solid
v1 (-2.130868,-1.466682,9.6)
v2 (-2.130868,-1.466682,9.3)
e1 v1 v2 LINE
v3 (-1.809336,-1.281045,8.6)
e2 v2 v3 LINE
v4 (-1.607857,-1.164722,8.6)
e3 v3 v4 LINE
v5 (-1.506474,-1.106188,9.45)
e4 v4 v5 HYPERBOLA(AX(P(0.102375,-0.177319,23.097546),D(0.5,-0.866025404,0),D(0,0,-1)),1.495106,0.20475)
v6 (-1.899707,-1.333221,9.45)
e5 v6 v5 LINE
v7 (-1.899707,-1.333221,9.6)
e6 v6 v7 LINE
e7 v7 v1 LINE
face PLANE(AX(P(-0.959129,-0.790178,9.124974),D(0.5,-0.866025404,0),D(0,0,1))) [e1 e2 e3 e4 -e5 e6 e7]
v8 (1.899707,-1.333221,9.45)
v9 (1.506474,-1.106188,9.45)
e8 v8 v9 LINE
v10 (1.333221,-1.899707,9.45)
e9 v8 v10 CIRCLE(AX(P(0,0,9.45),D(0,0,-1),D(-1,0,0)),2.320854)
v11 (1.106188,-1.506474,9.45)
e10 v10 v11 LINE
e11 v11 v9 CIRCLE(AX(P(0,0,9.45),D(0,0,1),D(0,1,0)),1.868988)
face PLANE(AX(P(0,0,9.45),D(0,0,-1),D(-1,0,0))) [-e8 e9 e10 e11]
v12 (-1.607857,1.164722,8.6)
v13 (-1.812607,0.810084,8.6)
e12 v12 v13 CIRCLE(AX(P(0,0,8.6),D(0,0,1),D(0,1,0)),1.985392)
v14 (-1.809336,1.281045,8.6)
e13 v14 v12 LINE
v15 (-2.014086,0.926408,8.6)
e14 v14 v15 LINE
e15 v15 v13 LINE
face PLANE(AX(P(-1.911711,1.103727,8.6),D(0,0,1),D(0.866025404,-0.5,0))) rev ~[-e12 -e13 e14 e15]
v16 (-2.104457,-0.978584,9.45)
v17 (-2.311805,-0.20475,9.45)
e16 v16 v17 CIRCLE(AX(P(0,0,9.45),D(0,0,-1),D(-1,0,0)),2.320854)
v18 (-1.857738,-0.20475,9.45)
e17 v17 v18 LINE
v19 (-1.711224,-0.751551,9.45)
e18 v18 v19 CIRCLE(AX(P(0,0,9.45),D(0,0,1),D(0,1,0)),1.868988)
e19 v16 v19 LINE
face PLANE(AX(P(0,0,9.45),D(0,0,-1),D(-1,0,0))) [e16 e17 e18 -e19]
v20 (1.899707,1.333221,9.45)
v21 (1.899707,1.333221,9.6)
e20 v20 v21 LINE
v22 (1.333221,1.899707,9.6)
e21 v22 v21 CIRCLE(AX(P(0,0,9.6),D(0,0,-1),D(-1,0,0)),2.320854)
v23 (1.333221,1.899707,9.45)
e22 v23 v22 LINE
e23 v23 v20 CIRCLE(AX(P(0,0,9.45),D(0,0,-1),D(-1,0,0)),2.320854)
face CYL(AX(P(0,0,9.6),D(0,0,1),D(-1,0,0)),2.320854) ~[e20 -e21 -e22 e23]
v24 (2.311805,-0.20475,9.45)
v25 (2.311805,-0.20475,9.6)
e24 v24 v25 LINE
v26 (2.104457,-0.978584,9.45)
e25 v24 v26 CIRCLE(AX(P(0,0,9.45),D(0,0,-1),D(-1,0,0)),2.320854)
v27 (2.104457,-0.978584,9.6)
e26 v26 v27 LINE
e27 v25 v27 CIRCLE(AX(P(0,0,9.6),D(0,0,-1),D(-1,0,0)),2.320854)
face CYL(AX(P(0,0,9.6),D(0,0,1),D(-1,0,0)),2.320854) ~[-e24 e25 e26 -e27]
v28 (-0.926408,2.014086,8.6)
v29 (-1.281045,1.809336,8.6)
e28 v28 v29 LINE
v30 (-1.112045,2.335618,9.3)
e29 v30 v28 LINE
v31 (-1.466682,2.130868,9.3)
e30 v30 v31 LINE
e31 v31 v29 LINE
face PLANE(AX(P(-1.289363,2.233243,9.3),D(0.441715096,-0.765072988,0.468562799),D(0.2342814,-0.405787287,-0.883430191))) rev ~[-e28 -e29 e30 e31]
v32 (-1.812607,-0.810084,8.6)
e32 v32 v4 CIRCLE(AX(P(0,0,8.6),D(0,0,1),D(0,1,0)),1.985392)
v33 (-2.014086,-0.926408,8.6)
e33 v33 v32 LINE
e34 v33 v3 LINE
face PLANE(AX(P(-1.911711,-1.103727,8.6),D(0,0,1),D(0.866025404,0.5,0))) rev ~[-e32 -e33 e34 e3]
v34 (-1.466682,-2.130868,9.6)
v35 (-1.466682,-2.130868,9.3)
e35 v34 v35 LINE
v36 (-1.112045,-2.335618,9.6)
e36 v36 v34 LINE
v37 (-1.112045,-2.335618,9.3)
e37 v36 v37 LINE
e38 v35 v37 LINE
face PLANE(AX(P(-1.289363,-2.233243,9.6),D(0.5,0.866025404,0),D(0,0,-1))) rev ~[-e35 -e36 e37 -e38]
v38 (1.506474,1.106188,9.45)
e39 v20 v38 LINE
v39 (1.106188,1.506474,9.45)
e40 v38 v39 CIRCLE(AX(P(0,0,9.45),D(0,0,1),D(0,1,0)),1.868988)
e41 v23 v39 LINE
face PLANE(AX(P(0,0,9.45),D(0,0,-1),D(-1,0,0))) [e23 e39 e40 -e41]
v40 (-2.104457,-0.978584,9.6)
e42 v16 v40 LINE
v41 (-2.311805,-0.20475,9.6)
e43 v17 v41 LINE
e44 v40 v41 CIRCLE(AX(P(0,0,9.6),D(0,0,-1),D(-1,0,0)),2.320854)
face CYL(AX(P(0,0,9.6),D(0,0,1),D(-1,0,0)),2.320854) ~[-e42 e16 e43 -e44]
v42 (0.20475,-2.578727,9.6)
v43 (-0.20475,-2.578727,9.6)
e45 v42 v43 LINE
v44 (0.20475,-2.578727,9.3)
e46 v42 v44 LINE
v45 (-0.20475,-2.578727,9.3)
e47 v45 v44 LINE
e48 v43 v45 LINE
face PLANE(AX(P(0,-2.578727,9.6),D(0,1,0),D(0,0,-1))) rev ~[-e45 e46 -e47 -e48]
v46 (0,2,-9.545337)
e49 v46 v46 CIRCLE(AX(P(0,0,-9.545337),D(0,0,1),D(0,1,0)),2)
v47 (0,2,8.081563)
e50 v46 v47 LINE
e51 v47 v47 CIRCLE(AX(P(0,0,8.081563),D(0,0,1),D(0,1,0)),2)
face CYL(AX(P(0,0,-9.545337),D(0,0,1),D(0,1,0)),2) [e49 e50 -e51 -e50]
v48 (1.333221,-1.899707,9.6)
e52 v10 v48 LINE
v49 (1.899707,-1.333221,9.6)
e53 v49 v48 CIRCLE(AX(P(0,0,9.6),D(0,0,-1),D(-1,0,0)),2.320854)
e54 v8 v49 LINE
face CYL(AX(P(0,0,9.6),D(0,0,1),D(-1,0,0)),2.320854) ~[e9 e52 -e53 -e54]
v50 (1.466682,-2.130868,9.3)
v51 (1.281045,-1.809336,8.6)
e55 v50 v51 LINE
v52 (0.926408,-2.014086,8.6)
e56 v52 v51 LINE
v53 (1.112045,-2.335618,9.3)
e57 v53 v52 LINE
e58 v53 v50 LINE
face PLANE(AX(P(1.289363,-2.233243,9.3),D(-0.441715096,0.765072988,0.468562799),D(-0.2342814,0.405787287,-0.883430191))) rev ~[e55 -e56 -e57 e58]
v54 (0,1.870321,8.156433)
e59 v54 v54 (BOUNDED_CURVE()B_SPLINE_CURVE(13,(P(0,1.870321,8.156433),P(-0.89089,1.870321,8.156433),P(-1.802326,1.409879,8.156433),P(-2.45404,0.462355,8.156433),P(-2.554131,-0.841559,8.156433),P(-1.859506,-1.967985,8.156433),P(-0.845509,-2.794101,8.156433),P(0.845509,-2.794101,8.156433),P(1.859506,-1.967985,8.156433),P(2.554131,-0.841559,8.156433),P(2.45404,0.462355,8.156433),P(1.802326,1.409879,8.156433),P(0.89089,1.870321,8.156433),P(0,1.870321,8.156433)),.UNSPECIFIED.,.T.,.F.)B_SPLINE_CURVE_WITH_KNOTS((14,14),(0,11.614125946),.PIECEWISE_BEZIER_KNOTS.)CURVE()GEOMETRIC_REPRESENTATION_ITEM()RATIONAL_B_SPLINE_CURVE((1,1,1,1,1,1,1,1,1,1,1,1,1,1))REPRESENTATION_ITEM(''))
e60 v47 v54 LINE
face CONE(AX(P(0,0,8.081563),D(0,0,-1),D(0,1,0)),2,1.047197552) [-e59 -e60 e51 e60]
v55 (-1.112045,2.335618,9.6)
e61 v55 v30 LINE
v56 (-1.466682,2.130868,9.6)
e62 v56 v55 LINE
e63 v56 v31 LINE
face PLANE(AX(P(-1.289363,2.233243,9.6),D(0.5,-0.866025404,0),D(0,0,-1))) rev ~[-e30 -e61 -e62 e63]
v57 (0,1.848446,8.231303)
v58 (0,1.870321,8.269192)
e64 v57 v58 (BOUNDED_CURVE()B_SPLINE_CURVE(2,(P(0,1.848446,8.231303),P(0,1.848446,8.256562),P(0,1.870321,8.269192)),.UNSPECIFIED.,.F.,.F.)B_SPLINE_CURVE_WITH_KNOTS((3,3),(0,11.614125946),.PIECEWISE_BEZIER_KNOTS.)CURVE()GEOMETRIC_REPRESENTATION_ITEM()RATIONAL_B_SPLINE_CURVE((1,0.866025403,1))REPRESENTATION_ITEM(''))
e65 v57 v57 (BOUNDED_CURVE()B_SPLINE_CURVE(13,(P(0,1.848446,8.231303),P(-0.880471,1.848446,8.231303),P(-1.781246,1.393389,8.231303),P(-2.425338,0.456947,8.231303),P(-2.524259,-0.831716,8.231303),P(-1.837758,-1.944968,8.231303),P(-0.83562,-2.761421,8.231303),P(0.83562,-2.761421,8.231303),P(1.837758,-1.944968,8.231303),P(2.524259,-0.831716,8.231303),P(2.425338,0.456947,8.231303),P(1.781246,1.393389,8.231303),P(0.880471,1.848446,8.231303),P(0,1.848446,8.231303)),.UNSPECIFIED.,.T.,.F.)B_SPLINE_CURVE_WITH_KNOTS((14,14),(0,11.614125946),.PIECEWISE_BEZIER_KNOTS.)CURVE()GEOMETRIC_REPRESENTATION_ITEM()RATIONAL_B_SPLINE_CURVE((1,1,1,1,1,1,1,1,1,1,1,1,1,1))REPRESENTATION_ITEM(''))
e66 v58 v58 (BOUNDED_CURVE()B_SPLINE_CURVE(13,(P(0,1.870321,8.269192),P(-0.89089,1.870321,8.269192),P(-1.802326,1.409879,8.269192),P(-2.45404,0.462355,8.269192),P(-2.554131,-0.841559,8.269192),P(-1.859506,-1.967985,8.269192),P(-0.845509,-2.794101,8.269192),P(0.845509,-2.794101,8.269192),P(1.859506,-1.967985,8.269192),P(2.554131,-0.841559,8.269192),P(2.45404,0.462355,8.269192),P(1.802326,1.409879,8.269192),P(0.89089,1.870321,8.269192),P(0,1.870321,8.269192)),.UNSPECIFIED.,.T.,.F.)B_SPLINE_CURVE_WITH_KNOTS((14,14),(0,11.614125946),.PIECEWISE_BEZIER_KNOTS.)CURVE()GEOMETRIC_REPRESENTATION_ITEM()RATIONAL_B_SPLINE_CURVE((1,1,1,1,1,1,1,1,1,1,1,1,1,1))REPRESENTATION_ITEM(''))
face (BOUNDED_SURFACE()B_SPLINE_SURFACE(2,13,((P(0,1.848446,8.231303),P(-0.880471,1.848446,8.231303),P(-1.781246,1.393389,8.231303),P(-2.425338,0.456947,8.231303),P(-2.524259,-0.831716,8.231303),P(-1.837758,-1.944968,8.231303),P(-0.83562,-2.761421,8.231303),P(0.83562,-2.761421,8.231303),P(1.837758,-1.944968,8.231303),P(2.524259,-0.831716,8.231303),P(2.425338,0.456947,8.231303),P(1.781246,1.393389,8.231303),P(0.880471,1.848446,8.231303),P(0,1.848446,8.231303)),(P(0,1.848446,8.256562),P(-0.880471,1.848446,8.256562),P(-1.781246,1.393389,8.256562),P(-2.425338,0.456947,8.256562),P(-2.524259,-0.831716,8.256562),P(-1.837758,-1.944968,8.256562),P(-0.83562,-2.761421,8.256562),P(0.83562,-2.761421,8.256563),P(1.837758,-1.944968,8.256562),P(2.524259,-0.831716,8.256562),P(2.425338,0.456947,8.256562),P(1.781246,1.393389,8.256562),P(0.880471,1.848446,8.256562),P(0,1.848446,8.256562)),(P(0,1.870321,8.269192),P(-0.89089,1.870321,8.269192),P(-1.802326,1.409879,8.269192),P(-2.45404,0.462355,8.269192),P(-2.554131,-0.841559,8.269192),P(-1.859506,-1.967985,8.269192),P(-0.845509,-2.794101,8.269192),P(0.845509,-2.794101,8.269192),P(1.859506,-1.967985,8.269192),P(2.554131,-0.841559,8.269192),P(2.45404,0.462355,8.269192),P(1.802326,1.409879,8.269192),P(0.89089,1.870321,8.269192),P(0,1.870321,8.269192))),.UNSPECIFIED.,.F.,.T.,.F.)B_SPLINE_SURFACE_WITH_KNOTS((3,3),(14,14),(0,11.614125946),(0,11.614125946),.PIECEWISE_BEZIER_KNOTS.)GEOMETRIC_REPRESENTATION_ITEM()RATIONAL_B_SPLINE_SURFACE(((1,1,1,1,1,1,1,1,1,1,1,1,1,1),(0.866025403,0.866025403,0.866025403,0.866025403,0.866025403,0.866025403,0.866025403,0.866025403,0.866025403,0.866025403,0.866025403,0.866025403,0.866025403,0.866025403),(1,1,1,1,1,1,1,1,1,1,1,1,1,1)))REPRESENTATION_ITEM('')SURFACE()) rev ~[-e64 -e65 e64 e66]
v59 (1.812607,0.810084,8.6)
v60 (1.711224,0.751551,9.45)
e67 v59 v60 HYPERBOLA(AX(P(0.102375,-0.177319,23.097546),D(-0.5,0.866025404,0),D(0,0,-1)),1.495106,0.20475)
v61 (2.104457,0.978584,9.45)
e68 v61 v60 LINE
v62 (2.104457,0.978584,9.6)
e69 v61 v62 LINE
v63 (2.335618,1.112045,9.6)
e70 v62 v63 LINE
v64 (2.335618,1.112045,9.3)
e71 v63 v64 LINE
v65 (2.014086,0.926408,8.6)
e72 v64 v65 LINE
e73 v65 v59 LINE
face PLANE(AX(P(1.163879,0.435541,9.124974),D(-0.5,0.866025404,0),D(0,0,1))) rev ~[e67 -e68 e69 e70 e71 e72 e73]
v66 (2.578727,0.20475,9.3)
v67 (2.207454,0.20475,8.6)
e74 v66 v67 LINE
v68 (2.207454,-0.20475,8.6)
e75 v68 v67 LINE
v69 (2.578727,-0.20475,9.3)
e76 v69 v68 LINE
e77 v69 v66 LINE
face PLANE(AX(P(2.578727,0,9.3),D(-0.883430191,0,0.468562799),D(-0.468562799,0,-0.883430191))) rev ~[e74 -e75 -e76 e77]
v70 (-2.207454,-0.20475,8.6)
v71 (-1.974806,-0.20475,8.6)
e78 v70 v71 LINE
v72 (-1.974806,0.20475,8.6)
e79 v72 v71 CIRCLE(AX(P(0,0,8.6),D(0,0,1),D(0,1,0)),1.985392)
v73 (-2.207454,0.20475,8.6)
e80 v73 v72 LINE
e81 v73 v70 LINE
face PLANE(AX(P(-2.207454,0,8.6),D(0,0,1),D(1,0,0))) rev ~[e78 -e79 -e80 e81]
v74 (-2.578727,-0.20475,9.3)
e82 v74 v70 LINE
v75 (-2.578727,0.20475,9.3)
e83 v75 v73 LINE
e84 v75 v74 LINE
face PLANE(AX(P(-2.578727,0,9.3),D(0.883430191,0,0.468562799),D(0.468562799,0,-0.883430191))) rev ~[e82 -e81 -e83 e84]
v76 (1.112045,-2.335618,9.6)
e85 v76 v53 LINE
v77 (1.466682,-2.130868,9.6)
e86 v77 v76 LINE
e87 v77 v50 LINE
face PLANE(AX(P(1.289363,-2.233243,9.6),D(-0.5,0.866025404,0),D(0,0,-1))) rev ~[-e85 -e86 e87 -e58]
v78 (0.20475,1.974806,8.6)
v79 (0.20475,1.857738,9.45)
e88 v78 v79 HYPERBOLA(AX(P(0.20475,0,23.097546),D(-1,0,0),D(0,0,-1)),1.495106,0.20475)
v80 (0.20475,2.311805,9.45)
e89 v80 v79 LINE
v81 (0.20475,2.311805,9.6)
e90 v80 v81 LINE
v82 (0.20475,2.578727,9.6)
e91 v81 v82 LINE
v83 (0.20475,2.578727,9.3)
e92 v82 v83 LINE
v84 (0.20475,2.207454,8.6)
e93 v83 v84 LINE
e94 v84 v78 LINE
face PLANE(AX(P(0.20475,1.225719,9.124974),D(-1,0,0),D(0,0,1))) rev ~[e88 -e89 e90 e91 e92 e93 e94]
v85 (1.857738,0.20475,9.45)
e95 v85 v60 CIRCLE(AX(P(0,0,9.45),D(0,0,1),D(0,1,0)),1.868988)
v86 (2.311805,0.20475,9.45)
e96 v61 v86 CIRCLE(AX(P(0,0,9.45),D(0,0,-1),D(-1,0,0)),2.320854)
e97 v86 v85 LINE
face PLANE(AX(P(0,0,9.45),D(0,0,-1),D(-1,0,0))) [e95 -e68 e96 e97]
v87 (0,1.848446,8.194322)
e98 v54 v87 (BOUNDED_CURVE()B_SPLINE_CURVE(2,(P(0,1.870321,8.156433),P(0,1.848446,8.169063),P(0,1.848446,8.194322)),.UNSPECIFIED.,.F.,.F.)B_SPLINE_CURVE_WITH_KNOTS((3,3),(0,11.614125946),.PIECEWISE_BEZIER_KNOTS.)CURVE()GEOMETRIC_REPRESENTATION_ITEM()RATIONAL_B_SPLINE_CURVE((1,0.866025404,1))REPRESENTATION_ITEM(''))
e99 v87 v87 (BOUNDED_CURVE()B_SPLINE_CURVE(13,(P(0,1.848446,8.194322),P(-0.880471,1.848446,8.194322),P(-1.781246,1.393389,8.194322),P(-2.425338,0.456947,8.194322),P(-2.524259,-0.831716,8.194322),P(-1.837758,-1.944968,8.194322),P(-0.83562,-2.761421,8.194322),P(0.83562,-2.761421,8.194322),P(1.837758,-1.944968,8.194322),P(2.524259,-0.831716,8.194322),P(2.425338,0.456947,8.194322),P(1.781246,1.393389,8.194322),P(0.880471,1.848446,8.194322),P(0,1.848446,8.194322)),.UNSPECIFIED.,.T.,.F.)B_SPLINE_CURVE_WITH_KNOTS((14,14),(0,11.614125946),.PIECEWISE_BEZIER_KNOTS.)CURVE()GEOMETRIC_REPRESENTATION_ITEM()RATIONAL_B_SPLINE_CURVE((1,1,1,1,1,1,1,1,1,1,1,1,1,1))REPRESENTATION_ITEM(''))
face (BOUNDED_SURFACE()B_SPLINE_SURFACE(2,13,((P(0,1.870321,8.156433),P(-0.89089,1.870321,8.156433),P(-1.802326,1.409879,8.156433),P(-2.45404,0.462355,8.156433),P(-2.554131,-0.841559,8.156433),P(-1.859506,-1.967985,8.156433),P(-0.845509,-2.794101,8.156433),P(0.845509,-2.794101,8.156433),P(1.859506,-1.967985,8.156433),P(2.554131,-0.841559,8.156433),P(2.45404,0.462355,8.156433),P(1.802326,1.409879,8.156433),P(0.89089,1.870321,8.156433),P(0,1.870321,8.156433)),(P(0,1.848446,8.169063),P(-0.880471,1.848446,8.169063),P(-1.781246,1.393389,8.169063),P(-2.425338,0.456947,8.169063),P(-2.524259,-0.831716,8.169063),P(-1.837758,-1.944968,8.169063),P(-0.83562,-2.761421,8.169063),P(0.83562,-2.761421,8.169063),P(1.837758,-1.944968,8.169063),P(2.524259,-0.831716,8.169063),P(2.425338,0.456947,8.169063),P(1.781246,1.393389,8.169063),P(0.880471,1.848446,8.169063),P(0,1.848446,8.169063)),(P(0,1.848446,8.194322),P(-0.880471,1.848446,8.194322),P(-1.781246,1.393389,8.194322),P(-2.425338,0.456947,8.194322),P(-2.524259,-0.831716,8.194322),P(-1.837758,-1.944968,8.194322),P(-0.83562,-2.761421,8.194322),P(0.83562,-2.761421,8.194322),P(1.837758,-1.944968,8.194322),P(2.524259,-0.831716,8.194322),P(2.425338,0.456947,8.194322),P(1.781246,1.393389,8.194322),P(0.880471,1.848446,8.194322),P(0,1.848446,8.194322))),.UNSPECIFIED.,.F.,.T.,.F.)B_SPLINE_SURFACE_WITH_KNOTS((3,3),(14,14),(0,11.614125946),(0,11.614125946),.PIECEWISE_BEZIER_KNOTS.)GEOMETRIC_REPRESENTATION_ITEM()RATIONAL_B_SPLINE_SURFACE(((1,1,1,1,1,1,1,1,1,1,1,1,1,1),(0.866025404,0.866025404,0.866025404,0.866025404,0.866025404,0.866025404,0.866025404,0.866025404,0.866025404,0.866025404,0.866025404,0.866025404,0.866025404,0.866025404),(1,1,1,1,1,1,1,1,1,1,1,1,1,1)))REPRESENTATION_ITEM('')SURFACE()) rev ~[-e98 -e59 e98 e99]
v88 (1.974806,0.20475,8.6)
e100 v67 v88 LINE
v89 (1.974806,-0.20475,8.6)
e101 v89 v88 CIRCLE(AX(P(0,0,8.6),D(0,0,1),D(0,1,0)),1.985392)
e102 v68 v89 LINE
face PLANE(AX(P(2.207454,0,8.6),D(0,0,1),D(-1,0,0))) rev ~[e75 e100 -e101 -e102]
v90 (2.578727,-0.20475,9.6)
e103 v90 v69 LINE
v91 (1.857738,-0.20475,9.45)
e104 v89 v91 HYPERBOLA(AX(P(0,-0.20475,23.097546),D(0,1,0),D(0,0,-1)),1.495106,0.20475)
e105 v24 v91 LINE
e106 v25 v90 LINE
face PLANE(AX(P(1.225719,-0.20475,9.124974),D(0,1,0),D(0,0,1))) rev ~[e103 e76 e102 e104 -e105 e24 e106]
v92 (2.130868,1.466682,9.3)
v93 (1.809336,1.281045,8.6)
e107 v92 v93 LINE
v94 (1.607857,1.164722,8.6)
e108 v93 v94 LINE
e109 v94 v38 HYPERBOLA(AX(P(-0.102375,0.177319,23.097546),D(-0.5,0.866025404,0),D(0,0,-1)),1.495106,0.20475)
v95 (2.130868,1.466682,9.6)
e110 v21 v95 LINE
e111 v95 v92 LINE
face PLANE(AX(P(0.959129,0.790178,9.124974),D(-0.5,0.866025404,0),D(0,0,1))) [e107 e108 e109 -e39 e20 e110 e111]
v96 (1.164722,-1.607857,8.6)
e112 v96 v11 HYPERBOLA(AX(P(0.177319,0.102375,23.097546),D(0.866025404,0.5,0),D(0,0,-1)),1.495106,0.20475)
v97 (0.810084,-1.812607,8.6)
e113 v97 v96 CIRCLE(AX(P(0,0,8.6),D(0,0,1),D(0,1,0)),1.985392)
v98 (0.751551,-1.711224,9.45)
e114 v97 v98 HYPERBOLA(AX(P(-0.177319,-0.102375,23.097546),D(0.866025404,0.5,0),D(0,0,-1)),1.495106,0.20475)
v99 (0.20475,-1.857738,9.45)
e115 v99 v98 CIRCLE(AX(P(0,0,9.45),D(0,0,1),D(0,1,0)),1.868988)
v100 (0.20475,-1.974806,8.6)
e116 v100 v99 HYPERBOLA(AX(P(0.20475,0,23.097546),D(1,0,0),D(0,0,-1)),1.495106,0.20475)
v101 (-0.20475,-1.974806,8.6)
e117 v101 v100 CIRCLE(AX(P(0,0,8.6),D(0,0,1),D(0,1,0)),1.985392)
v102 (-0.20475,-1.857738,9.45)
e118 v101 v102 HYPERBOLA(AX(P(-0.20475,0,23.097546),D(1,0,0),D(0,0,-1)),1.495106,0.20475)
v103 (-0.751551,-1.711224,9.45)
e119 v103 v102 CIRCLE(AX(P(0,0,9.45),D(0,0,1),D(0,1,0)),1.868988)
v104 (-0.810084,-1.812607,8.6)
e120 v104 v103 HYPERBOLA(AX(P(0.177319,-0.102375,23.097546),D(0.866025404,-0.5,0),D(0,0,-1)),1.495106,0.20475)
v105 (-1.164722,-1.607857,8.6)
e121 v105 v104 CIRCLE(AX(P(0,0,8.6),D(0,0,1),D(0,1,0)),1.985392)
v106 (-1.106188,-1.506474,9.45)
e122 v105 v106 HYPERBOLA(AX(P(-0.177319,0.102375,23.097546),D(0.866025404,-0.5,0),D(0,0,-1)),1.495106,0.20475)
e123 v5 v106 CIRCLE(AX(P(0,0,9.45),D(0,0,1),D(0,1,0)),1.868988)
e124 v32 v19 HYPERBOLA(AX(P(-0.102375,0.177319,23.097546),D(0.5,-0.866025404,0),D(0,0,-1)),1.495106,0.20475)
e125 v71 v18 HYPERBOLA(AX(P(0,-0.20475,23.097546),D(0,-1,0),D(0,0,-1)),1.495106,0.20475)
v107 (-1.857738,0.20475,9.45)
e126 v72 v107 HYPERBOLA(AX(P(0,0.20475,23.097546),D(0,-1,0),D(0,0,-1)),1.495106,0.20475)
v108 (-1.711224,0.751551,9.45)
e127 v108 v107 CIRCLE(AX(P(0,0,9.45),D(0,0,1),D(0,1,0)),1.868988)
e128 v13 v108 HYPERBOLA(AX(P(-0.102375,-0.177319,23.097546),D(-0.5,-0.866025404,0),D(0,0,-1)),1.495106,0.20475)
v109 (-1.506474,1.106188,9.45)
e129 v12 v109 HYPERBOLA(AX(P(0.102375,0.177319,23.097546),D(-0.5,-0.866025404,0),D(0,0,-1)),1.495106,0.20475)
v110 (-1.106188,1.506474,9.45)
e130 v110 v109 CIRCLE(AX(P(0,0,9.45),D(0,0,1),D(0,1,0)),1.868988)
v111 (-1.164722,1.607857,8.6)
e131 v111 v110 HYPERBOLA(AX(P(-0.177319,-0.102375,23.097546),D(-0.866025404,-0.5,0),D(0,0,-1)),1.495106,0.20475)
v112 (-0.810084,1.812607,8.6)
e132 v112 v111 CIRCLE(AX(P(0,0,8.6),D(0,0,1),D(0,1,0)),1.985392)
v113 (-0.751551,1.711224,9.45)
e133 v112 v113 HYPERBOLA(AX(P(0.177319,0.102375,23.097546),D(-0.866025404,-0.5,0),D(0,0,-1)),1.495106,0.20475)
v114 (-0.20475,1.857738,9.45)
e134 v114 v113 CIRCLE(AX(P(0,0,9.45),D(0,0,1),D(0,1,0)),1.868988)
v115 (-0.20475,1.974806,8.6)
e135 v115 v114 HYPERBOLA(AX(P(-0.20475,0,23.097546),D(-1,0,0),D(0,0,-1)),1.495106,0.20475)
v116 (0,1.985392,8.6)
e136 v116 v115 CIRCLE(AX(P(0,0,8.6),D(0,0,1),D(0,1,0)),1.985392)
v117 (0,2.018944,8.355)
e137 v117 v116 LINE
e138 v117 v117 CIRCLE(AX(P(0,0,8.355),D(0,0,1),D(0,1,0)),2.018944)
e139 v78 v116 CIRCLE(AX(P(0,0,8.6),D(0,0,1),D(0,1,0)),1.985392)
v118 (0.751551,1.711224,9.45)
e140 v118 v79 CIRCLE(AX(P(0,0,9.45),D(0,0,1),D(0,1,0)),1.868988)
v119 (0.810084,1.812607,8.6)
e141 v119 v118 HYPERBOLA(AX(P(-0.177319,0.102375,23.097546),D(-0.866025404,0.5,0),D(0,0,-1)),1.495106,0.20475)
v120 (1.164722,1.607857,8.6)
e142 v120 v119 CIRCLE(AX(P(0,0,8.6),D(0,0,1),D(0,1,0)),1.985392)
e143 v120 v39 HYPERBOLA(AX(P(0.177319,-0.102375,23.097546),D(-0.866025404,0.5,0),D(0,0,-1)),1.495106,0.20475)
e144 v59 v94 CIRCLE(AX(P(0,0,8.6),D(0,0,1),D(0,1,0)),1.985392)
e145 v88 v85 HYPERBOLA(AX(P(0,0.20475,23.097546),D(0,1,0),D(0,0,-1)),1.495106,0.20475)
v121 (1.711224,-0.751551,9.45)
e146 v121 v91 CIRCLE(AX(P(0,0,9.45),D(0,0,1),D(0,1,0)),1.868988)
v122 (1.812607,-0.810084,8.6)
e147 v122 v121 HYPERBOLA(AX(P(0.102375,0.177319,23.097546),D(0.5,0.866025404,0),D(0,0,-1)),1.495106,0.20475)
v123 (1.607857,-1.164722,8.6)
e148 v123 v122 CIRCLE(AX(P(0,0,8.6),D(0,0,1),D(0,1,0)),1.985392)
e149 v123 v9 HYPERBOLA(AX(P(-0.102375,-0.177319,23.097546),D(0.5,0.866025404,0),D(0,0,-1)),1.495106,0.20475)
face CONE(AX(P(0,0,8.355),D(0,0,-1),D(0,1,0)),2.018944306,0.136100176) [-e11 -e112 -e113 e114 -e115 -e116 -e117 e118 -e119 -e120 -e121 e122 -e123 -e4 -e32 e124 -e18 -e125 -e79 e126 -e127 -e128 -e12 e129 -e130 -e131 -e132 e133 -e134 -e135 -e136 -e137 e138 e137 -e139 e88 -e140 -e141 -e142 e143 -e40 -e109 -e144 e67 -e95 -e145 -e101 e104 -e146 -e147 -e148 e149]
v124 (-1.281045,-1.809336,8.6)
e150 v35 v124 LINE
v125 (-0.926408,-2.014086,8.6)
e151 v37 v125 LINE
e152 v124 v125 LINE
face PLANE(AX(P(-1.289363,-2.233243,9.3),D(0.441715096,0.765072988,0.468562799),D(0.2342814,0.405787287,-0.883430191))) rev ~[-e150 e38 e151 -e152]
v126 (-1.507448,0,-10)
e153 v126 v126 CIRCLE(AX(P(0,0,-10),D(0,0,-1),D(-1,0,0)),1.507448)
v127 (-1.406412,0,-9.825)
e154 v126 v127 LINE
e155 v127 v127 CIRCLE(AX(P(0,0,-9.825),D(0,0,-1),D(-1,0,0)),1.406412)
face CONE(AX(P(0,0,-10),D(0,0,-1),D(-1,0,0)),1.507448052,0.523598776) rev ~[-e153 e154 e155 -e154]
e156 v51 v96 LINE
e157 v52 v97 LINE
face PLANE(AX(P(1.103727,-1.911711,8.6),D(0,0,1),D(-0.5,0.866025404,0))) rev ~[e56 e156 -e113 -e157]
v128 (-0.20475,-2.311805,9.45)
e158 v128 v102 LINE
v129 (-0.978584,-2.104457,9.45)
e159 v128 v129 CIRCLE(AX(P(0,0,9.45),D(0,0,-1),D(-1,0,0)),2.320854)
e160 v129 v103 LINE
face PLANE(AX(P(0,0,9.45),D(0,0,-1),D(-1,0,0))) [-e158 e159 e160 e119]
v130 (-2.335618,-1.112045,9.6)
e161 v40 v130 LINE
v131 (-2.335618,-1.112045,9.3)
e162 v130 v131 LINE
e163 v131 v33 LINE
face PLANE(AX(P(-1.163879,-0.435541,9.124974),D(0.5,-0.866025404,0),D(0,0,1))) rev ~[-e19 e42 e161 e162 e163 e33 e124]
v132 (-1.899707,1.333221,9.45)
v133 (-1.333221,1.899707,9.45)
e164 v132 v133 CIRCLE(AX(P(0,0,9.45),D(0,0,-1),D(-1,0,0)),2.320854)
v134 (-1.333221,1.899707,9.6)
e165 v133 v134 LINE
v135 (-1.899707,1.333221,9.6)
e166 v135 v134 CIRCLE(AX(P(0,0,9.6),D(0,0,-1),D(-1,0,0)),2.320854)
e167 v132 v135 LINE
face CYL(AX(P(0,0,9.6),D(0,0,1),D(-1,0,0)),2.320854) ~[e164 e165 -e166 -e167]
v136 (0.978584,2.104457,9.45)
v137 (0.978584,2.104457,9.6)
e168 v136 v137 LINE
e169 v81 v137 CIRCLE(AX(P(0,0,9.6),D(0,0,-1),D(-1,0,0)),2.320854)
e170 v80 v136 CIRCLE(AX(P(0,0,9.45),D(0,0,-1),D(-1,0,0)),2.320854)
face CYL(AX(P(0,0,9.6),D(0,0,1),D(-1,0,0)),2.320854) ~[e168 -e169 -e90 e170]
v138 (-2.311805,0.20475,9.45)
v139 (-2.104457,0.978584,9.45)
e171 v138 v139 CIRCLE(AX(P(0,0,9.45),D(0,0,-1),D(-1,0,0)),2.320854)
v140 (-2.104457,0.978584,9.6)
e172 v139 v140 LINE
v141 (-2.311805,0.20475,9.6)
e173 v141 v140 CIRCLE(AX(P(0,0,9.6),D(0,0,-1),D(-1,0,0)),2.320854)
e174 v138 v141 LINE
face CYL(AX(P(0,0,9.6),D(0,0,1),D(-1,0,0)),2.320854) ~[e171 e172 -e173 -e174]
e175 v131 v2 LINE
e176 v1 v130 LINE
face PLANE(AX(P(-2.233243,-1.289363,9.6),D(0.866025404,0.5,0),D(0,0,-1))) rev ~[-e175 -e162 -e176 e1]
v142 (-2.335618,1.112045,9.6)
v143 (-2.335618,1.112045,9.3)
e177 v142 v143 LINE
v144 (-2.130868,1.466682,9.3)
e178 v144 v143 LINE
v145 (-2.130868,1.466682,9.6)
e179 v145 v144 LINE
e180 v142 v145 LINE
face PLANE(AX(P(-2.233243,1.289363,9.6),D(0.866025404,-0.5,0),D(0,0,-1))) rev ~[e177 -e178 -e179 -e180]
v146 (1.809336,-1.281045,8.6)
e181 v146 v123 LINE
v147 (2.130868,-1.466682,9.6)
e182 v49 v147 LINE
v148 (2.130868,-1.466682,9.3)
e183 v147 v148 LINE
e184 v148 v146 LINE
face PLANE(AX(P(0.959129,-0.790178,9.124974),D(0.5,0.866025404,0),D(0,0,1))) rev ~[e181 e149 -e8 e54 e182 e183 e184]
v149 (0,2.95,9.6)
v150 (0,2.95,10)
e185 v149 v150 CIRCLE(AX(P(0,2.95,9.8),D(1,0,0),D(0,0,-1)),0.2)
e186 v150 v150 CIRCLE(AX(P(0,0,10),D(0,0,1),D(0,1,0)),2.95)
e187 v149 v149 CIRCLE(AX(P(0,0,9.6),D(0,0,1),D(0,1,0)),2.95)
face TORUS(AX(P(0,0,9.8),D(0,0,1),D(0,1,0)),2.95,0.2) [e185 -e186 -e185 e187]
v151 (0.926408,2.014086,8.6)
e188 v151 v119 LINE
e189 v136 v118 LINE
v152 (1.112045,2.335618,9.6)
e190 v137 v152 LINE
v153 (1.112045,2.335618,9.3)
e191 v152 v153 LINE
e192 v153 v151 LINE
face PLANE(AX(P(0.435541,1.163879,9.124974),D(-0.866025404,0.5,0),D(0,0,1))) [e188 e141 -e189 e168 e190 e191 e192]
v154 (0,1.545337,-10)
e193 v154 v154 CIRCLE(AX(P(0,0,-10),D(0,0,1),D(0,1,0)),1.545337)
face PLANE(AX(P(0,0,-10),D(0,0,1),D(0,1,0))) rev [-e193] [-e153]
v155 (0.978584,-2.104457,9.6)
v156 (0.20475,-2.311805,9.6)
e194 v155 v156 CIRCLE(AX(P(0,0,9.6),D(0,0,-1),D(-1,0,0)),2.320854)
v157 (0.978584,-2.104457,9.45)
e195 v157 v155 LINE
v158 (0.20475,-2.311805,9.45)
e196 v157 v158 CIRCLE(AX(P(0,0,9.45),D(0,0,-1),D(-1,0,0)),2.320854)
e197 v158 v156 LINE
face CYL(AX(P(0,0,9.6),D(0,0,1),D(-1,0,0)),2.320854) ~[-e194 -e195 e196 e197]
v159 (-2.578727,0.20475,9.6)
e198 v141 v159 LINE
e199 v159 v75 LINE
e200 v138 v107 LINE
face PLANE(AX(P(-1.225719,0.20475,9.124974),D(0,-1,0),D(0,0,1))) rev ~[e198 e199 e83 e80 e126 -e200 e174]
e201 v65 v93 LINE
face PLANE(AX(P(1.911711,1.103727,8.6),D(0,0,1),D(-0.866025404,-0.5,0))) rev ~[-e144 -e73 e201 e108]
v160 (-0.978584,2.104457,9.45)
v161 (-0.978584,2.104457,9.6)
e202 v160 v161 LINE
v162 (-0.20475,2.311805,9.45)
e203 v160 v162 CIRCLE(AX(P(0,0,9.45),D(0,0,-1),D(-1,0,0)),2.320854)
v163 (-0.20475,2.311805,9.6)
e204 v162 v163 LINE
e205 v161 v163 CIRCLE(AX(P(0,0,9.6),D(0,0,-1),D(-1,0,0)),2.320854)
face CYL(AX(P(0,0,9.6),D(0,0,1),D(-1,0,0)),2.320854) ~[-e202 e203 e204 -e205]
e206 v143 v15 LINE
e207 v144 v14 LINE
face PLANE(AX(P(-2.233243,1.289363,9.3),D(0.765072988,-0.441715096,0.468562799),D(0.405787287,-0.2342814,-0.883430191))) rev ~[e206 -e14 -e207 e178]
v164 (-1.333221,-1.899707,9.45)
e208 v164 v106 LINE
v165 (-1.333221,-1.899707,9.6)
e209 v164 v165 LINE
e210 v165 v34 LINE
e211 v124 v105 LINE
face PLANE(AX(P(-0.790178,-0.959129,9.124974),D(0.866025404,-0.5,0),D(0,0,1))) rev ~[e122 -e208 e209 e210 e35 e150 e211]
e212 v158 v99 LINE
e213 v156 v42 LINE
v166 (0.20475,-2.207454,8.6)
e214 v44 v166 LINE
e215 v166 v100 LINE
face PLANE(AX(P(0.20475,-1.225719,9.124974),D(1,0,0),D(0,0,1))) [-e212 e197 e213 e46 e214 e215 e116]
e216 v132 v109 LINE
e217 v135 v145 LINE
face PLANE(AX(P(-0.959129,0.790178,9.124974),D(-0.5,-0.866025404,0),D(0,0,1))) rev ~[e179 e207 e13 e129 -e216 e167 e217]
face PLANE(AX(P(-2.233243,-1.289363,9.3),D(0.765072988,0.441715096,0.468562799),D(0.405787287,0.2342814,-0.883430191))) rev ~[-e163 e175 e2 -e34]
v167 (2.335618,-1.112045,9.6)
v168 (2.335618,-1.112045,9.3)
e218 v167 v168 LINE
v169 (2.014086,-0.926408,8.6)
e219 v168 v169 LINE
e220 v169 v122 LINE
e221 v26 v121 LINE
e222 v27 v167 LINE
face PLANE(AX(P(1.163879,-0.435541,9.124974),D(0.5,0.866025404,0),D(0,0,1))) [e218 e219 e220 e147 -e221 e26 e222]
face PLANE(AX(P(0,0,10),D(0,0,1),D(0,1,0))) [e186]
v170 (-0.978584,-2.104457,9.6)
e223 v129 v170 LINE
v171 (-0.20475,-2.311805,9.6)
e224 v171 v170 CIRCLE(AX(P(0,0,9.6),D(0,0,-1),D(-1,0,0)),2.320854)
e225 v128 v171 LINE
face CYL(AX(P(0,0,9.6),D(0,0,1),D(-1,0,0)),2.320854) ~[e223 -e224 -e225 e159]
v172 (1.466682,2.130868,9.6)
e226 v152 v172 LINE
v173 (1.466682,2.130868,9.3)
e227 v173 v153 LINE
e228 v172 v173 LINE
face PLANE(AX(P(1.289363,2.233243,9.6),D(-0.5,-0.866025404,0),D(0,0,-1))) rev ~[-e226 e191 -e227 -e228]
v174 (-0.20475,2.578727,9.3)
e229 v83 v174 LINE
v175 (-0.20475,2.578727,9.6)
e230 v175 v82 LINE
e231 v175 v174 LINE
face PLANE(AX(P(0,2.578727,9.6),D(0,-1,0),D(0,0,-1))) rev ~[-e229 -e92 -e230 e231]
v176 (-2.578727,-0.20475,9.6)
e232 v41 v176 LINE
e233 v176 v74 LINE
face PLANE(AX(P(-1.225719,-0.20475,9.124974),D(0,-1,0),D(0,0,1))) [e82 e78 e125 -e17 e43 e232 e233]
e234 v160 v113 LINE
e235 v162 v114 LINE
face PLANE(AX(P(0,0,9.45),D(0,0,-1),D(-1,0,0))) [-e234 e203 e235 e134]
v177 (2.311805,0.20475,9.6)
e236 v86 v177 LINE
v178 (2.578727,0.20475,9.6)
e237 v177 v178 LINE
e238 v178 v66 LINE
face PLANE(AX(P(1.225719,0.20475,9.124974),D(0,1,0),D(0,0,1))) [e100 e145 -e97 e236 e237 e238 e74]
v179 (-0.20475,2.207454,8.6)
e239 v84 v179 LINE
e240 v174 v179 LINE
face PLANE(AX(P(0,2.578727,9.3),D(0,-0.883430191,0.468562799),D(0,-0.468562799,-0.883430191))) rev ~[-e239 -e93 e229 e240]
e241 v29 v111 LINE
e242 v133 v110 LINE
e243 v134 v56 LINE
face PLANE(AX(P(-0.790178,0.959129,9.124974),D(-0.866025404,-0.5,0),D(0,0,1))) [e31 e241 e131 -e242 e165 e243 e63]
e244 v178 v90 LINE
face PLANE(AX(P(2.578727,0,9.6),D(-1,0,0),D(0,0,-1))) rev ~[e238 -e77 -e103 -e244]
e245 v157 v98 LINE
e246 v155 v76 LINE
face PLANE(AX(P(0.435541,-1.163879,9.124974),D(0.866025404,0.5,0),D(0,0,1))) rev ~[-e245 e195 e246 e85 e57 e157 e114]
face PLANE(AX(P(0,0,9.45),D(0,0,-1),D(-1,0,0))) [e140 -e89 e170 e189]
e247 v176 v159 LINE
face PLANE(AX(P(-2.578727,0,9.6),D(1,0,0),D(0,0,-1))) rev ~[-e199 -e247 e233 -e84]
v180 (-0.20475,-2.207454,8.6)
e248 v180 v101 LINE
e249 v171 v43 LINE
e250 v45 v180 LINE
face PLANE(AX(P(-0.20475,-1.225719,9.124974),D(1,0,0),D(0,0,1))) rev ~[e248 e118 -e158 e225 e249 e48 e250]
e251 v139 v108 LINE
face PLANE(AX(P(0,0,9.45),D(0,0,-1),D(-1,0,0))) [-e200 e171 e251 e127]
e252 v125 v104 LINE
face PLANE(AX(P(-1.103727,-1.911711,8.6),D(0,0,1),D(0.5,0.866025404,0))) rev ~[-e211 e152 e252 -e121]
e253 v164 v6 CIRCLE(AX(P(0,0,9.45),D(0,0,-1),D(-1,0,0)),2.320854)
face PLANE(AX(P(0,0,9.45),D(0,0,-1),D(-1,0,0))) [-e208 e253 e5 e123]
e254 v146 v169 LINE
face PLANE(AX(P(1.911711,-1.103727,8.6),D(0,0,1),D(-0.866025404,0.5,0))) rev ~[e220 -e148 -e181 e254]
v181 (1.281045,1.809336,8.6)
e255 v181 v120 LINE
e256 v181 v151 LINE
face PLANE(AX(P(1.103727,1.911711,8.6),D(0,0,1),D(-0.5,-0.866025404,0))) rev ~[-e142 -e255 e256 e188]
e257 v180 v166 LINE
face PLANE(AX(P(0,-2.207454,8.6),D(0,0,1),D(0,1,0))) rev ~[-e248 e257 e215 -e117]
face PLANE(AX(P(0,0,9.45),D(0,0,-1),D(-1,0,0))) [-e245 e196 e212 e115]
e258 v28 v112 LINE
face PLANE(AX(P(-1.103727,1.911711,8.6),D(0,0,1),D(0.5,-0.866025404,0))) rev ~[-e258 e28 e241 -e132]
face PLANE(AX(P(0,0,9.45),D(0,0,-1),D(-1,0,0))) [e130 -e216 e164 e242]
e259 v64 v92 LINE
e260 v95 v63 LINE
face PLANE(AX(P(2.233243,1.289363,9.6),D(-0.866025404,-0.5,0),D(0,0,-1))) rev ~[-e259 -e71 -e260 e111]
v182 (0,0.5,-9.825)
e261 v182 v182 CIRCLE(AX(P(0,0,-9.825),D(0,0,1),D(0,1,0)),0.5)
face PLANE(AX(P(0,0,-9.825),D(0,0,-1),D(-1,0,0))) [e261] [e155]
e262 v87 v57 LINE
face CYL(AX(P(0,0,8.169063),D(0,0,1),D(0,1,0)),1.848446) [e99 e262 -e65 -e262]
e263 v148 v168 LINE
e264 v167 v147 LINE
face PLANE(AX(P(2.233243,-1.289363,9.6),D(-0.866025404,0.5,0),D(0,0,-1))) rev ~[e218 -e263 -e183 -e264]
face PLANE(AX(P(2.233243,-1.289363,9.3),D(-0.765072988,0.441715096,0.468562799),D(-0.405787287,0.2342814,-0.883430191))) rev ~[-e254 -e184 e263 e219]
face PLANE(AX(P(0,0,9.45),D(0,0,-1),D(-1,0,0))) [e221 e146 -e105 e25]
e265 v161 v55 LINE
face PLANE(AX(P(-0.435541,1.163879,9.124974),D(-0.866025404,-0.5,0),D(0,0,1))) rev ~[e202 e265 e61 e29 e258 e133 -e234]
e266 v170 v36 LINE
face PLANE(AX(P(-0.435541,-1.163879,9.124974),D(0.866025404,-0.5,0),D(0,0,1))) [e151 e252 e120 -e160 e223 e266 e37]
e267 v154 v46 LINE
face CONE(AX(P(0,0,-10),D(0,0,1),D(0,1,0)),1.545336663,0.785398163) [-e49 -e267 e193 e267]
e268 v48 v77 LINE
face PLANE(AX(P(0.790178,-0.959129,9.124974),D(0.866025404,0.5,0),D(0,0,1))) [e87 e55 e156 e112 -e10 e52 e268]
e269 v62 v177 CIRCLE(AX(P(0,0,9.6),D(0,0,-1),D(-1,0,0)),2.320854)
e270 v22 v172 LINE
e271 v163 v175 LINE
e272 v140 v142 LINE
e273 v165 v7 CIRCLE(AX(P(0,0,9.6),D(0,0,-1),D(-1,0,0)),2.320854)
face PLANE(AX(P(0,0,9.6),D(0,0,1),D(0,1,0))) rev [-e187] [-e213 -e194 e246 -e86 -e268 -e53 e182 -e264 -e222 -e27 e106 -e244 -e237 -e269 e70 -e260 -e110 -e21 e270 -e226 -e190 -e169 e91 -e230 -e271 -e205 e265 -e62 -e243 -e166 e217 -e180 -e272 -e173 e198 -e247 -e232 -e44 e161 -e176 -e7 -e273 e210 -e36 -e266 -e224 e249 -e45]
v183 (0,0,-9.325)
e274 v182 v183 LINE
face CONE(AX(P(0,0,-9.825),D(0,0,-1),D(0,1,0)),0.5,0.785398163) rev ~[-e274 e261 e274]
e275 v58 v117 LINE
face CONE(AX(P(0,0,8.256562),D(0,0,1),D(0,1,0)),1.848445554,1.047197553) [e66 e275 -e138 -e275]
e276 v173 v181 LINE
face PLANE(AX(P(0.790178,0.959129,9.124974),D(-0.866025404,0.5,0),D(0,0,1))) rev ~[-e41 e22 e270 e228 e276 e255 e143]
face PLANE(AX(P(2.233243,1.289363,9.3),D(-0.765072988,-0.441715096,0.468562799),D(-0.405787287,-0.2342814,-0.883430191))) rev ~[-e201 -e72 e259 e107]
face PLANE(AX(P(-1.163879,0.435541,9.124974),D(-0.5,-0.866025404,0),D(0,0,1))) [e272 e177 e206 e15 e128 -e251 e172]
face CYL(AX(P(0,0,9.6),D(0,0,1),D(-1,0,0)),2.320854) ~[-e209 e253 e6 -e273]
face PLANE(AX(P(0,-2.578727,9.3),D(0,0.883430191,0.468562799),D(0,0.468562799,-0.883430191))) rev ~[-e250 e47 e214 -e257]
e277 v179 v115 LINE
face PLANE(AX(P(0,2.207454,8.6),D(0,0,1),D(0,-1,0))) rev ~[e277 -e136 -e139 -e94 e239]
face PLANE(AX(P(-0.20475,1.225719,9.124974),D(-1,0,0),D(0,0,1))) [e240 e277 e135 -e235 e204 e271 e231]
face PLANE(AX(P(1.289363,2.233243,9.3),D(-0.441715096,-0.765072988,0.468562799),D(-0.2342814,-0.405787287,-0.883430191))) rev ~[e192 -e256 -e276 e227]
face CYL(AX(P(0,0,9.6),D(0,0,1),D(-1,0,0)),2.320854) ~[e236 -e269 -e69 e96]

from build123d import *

# Parameters (mm, degrees)
FILLET2_R           = 0.04375
SKETCH16_R          = 1.507448052
CUT_EXTRUDE3_DEPTH  = 0.175
CUT_EXTRUDE3_DRAFT  = -30
BOSS_EXTRUDE1_DEPTH = 0.20475
CIRPATTERN3_COUNT   = 12
SKETCH14_R          = 2.320854115
BOSS_EXTRUDE3_DEPTH = 0.15


with BuildPart() as part:
    # Sketch7 → Revolve3 (revolve)
    with BuildSketch(Plane(origin=(0, 0, 0), x_dir=(0, 0, -1), z_dir=(1, 0, 0))):
        with BuildLine():
            Line((10, 1.545336663), (9.545336663, 2))
            Line((9.545336663, 2), (-8.0815625, 2))
            Line((-8.0815625, 2), (-8.1690625, 1.848445554))
            Line((-8.1690625, 1.848445554), (-8.2565625, 1.848445554))
            Line((-8.2565625, 1.848445554), (-8.355, 2.018944306))
            Line((-8.355, 2.018944306), (-9.6, 1.848445554))
            Line((-9.6, 1.848445554), (-9.6, 2))
            Line((-9.6, 2), (-9.6, 2.95))
            ThreePointArc((-9.6, 2.95), (-9.8, 3.15), (-10, 2.95))
            Line((-10, 2.95), (-10, 0))
            Line((-10, 0), (10, 0))
            Line((10, 0), (10, 1.545336663))
        make_face()
    revolve(axis=Axis((0, 0, -10), (0, 0, 1)))

    # Fillet2
    fillet2_edges = [part.edges().sort_by_distance(p)[0] for p in [
        (0, -1.848445554, 8.2565625),
        (0, -1.848445554, 8.1690625),
    ]]
    fillet(fillet2_edges, radius=FILLET2_R)


with BuildPart() as cut_extrude3_tool:
    # Sketch16 → Cut-Extrude3 (with draft: the straight prism first)
    with BuildSketch(Plane(origin=(0, 0, -10), x_dir=(-1, 0, 0), z_dir=(0, 0, -1))):
        Circle(SKETCH16_R)
    extrude(amount=-CUT_EXTRUDE3_DEPTH)
    # Cut-Extrude3: the draft: its side faces are tilted about the plane it starts from
    cut_extrude3_sides = [cut_extrude3_tool.faces().sort_by_distance(p)[0] for p in [
        (1.507448052, 0, -9.9125),
    ]]
    draft(cut_extrude3_sides, Plane(origin=(0, 0, -10), x_dir=(-1, 0, 0), z_dir=(0, 0, -1)), CUT_EXTRUDE3_DRAFT)


with BuildPart() as part_1:
    add(part.part)

    # Cut-Extrude3: cut by cut_extrude3_tool
    add(cut_extrude3_tool.part, mode=Mode.SUBTRACT)

    # Cut-Extrude1 cone 1 section (through the dimple's axis) → Cut-Extrude1 (revolve, cut)
    with BuildSketch(Plane(origin=(0, 0, -9.825), x_dir=(0, 1, 0), z_dir=(1, 0, 0))):
        Polygon((0, 0), (0.5, 0), (0, 0.5), align=None)
    revolve(axis=Axis((0, 0, -9.825), (0, 0, 1)), mode=Mode.SUBTRACT)

    # Sketch9 → Boss-Extrude1 (add, symmetric)
    with BuildSketch(Plane(origin=(0, 0, 0), x_dir=(0, 0, -1), z_dir=(1, 0, 0))):
        Polygon((-9.6, 2.578726794), (-9.3, 2.578726794), (-8.6, 2.207453588), (-8.6, 0), (-9.6, 0), align=None)
    boss_extrude1 = extrude(amount=BOSS_EXTRUDE1_DEPTH, both=True)

    # CirPattern3: Boss-Extrude1 ×12 about axis
    cirpattern3_axis = Axis((0, 0, 0), (0, 0, 1))
    for i in range(1, CIRPATTERN3_COUNT):
        add(boss_extrude1.rotate(cirpattern3_axis, i * 360 / CIRPATTERN3_COUNT))

    # Sketch14 → Boss-Extrude3 (add)
    with BuildSketch(Plane(origin=(0, 0, 9.6), x_dir=(-1, 0, 0), z_dir=(0, 0, -1))):
        Circle(SKETCH14_R)
    extrude(amount=BOSS_EXTRUDE3_DEPTH)


solid = part_1.part
